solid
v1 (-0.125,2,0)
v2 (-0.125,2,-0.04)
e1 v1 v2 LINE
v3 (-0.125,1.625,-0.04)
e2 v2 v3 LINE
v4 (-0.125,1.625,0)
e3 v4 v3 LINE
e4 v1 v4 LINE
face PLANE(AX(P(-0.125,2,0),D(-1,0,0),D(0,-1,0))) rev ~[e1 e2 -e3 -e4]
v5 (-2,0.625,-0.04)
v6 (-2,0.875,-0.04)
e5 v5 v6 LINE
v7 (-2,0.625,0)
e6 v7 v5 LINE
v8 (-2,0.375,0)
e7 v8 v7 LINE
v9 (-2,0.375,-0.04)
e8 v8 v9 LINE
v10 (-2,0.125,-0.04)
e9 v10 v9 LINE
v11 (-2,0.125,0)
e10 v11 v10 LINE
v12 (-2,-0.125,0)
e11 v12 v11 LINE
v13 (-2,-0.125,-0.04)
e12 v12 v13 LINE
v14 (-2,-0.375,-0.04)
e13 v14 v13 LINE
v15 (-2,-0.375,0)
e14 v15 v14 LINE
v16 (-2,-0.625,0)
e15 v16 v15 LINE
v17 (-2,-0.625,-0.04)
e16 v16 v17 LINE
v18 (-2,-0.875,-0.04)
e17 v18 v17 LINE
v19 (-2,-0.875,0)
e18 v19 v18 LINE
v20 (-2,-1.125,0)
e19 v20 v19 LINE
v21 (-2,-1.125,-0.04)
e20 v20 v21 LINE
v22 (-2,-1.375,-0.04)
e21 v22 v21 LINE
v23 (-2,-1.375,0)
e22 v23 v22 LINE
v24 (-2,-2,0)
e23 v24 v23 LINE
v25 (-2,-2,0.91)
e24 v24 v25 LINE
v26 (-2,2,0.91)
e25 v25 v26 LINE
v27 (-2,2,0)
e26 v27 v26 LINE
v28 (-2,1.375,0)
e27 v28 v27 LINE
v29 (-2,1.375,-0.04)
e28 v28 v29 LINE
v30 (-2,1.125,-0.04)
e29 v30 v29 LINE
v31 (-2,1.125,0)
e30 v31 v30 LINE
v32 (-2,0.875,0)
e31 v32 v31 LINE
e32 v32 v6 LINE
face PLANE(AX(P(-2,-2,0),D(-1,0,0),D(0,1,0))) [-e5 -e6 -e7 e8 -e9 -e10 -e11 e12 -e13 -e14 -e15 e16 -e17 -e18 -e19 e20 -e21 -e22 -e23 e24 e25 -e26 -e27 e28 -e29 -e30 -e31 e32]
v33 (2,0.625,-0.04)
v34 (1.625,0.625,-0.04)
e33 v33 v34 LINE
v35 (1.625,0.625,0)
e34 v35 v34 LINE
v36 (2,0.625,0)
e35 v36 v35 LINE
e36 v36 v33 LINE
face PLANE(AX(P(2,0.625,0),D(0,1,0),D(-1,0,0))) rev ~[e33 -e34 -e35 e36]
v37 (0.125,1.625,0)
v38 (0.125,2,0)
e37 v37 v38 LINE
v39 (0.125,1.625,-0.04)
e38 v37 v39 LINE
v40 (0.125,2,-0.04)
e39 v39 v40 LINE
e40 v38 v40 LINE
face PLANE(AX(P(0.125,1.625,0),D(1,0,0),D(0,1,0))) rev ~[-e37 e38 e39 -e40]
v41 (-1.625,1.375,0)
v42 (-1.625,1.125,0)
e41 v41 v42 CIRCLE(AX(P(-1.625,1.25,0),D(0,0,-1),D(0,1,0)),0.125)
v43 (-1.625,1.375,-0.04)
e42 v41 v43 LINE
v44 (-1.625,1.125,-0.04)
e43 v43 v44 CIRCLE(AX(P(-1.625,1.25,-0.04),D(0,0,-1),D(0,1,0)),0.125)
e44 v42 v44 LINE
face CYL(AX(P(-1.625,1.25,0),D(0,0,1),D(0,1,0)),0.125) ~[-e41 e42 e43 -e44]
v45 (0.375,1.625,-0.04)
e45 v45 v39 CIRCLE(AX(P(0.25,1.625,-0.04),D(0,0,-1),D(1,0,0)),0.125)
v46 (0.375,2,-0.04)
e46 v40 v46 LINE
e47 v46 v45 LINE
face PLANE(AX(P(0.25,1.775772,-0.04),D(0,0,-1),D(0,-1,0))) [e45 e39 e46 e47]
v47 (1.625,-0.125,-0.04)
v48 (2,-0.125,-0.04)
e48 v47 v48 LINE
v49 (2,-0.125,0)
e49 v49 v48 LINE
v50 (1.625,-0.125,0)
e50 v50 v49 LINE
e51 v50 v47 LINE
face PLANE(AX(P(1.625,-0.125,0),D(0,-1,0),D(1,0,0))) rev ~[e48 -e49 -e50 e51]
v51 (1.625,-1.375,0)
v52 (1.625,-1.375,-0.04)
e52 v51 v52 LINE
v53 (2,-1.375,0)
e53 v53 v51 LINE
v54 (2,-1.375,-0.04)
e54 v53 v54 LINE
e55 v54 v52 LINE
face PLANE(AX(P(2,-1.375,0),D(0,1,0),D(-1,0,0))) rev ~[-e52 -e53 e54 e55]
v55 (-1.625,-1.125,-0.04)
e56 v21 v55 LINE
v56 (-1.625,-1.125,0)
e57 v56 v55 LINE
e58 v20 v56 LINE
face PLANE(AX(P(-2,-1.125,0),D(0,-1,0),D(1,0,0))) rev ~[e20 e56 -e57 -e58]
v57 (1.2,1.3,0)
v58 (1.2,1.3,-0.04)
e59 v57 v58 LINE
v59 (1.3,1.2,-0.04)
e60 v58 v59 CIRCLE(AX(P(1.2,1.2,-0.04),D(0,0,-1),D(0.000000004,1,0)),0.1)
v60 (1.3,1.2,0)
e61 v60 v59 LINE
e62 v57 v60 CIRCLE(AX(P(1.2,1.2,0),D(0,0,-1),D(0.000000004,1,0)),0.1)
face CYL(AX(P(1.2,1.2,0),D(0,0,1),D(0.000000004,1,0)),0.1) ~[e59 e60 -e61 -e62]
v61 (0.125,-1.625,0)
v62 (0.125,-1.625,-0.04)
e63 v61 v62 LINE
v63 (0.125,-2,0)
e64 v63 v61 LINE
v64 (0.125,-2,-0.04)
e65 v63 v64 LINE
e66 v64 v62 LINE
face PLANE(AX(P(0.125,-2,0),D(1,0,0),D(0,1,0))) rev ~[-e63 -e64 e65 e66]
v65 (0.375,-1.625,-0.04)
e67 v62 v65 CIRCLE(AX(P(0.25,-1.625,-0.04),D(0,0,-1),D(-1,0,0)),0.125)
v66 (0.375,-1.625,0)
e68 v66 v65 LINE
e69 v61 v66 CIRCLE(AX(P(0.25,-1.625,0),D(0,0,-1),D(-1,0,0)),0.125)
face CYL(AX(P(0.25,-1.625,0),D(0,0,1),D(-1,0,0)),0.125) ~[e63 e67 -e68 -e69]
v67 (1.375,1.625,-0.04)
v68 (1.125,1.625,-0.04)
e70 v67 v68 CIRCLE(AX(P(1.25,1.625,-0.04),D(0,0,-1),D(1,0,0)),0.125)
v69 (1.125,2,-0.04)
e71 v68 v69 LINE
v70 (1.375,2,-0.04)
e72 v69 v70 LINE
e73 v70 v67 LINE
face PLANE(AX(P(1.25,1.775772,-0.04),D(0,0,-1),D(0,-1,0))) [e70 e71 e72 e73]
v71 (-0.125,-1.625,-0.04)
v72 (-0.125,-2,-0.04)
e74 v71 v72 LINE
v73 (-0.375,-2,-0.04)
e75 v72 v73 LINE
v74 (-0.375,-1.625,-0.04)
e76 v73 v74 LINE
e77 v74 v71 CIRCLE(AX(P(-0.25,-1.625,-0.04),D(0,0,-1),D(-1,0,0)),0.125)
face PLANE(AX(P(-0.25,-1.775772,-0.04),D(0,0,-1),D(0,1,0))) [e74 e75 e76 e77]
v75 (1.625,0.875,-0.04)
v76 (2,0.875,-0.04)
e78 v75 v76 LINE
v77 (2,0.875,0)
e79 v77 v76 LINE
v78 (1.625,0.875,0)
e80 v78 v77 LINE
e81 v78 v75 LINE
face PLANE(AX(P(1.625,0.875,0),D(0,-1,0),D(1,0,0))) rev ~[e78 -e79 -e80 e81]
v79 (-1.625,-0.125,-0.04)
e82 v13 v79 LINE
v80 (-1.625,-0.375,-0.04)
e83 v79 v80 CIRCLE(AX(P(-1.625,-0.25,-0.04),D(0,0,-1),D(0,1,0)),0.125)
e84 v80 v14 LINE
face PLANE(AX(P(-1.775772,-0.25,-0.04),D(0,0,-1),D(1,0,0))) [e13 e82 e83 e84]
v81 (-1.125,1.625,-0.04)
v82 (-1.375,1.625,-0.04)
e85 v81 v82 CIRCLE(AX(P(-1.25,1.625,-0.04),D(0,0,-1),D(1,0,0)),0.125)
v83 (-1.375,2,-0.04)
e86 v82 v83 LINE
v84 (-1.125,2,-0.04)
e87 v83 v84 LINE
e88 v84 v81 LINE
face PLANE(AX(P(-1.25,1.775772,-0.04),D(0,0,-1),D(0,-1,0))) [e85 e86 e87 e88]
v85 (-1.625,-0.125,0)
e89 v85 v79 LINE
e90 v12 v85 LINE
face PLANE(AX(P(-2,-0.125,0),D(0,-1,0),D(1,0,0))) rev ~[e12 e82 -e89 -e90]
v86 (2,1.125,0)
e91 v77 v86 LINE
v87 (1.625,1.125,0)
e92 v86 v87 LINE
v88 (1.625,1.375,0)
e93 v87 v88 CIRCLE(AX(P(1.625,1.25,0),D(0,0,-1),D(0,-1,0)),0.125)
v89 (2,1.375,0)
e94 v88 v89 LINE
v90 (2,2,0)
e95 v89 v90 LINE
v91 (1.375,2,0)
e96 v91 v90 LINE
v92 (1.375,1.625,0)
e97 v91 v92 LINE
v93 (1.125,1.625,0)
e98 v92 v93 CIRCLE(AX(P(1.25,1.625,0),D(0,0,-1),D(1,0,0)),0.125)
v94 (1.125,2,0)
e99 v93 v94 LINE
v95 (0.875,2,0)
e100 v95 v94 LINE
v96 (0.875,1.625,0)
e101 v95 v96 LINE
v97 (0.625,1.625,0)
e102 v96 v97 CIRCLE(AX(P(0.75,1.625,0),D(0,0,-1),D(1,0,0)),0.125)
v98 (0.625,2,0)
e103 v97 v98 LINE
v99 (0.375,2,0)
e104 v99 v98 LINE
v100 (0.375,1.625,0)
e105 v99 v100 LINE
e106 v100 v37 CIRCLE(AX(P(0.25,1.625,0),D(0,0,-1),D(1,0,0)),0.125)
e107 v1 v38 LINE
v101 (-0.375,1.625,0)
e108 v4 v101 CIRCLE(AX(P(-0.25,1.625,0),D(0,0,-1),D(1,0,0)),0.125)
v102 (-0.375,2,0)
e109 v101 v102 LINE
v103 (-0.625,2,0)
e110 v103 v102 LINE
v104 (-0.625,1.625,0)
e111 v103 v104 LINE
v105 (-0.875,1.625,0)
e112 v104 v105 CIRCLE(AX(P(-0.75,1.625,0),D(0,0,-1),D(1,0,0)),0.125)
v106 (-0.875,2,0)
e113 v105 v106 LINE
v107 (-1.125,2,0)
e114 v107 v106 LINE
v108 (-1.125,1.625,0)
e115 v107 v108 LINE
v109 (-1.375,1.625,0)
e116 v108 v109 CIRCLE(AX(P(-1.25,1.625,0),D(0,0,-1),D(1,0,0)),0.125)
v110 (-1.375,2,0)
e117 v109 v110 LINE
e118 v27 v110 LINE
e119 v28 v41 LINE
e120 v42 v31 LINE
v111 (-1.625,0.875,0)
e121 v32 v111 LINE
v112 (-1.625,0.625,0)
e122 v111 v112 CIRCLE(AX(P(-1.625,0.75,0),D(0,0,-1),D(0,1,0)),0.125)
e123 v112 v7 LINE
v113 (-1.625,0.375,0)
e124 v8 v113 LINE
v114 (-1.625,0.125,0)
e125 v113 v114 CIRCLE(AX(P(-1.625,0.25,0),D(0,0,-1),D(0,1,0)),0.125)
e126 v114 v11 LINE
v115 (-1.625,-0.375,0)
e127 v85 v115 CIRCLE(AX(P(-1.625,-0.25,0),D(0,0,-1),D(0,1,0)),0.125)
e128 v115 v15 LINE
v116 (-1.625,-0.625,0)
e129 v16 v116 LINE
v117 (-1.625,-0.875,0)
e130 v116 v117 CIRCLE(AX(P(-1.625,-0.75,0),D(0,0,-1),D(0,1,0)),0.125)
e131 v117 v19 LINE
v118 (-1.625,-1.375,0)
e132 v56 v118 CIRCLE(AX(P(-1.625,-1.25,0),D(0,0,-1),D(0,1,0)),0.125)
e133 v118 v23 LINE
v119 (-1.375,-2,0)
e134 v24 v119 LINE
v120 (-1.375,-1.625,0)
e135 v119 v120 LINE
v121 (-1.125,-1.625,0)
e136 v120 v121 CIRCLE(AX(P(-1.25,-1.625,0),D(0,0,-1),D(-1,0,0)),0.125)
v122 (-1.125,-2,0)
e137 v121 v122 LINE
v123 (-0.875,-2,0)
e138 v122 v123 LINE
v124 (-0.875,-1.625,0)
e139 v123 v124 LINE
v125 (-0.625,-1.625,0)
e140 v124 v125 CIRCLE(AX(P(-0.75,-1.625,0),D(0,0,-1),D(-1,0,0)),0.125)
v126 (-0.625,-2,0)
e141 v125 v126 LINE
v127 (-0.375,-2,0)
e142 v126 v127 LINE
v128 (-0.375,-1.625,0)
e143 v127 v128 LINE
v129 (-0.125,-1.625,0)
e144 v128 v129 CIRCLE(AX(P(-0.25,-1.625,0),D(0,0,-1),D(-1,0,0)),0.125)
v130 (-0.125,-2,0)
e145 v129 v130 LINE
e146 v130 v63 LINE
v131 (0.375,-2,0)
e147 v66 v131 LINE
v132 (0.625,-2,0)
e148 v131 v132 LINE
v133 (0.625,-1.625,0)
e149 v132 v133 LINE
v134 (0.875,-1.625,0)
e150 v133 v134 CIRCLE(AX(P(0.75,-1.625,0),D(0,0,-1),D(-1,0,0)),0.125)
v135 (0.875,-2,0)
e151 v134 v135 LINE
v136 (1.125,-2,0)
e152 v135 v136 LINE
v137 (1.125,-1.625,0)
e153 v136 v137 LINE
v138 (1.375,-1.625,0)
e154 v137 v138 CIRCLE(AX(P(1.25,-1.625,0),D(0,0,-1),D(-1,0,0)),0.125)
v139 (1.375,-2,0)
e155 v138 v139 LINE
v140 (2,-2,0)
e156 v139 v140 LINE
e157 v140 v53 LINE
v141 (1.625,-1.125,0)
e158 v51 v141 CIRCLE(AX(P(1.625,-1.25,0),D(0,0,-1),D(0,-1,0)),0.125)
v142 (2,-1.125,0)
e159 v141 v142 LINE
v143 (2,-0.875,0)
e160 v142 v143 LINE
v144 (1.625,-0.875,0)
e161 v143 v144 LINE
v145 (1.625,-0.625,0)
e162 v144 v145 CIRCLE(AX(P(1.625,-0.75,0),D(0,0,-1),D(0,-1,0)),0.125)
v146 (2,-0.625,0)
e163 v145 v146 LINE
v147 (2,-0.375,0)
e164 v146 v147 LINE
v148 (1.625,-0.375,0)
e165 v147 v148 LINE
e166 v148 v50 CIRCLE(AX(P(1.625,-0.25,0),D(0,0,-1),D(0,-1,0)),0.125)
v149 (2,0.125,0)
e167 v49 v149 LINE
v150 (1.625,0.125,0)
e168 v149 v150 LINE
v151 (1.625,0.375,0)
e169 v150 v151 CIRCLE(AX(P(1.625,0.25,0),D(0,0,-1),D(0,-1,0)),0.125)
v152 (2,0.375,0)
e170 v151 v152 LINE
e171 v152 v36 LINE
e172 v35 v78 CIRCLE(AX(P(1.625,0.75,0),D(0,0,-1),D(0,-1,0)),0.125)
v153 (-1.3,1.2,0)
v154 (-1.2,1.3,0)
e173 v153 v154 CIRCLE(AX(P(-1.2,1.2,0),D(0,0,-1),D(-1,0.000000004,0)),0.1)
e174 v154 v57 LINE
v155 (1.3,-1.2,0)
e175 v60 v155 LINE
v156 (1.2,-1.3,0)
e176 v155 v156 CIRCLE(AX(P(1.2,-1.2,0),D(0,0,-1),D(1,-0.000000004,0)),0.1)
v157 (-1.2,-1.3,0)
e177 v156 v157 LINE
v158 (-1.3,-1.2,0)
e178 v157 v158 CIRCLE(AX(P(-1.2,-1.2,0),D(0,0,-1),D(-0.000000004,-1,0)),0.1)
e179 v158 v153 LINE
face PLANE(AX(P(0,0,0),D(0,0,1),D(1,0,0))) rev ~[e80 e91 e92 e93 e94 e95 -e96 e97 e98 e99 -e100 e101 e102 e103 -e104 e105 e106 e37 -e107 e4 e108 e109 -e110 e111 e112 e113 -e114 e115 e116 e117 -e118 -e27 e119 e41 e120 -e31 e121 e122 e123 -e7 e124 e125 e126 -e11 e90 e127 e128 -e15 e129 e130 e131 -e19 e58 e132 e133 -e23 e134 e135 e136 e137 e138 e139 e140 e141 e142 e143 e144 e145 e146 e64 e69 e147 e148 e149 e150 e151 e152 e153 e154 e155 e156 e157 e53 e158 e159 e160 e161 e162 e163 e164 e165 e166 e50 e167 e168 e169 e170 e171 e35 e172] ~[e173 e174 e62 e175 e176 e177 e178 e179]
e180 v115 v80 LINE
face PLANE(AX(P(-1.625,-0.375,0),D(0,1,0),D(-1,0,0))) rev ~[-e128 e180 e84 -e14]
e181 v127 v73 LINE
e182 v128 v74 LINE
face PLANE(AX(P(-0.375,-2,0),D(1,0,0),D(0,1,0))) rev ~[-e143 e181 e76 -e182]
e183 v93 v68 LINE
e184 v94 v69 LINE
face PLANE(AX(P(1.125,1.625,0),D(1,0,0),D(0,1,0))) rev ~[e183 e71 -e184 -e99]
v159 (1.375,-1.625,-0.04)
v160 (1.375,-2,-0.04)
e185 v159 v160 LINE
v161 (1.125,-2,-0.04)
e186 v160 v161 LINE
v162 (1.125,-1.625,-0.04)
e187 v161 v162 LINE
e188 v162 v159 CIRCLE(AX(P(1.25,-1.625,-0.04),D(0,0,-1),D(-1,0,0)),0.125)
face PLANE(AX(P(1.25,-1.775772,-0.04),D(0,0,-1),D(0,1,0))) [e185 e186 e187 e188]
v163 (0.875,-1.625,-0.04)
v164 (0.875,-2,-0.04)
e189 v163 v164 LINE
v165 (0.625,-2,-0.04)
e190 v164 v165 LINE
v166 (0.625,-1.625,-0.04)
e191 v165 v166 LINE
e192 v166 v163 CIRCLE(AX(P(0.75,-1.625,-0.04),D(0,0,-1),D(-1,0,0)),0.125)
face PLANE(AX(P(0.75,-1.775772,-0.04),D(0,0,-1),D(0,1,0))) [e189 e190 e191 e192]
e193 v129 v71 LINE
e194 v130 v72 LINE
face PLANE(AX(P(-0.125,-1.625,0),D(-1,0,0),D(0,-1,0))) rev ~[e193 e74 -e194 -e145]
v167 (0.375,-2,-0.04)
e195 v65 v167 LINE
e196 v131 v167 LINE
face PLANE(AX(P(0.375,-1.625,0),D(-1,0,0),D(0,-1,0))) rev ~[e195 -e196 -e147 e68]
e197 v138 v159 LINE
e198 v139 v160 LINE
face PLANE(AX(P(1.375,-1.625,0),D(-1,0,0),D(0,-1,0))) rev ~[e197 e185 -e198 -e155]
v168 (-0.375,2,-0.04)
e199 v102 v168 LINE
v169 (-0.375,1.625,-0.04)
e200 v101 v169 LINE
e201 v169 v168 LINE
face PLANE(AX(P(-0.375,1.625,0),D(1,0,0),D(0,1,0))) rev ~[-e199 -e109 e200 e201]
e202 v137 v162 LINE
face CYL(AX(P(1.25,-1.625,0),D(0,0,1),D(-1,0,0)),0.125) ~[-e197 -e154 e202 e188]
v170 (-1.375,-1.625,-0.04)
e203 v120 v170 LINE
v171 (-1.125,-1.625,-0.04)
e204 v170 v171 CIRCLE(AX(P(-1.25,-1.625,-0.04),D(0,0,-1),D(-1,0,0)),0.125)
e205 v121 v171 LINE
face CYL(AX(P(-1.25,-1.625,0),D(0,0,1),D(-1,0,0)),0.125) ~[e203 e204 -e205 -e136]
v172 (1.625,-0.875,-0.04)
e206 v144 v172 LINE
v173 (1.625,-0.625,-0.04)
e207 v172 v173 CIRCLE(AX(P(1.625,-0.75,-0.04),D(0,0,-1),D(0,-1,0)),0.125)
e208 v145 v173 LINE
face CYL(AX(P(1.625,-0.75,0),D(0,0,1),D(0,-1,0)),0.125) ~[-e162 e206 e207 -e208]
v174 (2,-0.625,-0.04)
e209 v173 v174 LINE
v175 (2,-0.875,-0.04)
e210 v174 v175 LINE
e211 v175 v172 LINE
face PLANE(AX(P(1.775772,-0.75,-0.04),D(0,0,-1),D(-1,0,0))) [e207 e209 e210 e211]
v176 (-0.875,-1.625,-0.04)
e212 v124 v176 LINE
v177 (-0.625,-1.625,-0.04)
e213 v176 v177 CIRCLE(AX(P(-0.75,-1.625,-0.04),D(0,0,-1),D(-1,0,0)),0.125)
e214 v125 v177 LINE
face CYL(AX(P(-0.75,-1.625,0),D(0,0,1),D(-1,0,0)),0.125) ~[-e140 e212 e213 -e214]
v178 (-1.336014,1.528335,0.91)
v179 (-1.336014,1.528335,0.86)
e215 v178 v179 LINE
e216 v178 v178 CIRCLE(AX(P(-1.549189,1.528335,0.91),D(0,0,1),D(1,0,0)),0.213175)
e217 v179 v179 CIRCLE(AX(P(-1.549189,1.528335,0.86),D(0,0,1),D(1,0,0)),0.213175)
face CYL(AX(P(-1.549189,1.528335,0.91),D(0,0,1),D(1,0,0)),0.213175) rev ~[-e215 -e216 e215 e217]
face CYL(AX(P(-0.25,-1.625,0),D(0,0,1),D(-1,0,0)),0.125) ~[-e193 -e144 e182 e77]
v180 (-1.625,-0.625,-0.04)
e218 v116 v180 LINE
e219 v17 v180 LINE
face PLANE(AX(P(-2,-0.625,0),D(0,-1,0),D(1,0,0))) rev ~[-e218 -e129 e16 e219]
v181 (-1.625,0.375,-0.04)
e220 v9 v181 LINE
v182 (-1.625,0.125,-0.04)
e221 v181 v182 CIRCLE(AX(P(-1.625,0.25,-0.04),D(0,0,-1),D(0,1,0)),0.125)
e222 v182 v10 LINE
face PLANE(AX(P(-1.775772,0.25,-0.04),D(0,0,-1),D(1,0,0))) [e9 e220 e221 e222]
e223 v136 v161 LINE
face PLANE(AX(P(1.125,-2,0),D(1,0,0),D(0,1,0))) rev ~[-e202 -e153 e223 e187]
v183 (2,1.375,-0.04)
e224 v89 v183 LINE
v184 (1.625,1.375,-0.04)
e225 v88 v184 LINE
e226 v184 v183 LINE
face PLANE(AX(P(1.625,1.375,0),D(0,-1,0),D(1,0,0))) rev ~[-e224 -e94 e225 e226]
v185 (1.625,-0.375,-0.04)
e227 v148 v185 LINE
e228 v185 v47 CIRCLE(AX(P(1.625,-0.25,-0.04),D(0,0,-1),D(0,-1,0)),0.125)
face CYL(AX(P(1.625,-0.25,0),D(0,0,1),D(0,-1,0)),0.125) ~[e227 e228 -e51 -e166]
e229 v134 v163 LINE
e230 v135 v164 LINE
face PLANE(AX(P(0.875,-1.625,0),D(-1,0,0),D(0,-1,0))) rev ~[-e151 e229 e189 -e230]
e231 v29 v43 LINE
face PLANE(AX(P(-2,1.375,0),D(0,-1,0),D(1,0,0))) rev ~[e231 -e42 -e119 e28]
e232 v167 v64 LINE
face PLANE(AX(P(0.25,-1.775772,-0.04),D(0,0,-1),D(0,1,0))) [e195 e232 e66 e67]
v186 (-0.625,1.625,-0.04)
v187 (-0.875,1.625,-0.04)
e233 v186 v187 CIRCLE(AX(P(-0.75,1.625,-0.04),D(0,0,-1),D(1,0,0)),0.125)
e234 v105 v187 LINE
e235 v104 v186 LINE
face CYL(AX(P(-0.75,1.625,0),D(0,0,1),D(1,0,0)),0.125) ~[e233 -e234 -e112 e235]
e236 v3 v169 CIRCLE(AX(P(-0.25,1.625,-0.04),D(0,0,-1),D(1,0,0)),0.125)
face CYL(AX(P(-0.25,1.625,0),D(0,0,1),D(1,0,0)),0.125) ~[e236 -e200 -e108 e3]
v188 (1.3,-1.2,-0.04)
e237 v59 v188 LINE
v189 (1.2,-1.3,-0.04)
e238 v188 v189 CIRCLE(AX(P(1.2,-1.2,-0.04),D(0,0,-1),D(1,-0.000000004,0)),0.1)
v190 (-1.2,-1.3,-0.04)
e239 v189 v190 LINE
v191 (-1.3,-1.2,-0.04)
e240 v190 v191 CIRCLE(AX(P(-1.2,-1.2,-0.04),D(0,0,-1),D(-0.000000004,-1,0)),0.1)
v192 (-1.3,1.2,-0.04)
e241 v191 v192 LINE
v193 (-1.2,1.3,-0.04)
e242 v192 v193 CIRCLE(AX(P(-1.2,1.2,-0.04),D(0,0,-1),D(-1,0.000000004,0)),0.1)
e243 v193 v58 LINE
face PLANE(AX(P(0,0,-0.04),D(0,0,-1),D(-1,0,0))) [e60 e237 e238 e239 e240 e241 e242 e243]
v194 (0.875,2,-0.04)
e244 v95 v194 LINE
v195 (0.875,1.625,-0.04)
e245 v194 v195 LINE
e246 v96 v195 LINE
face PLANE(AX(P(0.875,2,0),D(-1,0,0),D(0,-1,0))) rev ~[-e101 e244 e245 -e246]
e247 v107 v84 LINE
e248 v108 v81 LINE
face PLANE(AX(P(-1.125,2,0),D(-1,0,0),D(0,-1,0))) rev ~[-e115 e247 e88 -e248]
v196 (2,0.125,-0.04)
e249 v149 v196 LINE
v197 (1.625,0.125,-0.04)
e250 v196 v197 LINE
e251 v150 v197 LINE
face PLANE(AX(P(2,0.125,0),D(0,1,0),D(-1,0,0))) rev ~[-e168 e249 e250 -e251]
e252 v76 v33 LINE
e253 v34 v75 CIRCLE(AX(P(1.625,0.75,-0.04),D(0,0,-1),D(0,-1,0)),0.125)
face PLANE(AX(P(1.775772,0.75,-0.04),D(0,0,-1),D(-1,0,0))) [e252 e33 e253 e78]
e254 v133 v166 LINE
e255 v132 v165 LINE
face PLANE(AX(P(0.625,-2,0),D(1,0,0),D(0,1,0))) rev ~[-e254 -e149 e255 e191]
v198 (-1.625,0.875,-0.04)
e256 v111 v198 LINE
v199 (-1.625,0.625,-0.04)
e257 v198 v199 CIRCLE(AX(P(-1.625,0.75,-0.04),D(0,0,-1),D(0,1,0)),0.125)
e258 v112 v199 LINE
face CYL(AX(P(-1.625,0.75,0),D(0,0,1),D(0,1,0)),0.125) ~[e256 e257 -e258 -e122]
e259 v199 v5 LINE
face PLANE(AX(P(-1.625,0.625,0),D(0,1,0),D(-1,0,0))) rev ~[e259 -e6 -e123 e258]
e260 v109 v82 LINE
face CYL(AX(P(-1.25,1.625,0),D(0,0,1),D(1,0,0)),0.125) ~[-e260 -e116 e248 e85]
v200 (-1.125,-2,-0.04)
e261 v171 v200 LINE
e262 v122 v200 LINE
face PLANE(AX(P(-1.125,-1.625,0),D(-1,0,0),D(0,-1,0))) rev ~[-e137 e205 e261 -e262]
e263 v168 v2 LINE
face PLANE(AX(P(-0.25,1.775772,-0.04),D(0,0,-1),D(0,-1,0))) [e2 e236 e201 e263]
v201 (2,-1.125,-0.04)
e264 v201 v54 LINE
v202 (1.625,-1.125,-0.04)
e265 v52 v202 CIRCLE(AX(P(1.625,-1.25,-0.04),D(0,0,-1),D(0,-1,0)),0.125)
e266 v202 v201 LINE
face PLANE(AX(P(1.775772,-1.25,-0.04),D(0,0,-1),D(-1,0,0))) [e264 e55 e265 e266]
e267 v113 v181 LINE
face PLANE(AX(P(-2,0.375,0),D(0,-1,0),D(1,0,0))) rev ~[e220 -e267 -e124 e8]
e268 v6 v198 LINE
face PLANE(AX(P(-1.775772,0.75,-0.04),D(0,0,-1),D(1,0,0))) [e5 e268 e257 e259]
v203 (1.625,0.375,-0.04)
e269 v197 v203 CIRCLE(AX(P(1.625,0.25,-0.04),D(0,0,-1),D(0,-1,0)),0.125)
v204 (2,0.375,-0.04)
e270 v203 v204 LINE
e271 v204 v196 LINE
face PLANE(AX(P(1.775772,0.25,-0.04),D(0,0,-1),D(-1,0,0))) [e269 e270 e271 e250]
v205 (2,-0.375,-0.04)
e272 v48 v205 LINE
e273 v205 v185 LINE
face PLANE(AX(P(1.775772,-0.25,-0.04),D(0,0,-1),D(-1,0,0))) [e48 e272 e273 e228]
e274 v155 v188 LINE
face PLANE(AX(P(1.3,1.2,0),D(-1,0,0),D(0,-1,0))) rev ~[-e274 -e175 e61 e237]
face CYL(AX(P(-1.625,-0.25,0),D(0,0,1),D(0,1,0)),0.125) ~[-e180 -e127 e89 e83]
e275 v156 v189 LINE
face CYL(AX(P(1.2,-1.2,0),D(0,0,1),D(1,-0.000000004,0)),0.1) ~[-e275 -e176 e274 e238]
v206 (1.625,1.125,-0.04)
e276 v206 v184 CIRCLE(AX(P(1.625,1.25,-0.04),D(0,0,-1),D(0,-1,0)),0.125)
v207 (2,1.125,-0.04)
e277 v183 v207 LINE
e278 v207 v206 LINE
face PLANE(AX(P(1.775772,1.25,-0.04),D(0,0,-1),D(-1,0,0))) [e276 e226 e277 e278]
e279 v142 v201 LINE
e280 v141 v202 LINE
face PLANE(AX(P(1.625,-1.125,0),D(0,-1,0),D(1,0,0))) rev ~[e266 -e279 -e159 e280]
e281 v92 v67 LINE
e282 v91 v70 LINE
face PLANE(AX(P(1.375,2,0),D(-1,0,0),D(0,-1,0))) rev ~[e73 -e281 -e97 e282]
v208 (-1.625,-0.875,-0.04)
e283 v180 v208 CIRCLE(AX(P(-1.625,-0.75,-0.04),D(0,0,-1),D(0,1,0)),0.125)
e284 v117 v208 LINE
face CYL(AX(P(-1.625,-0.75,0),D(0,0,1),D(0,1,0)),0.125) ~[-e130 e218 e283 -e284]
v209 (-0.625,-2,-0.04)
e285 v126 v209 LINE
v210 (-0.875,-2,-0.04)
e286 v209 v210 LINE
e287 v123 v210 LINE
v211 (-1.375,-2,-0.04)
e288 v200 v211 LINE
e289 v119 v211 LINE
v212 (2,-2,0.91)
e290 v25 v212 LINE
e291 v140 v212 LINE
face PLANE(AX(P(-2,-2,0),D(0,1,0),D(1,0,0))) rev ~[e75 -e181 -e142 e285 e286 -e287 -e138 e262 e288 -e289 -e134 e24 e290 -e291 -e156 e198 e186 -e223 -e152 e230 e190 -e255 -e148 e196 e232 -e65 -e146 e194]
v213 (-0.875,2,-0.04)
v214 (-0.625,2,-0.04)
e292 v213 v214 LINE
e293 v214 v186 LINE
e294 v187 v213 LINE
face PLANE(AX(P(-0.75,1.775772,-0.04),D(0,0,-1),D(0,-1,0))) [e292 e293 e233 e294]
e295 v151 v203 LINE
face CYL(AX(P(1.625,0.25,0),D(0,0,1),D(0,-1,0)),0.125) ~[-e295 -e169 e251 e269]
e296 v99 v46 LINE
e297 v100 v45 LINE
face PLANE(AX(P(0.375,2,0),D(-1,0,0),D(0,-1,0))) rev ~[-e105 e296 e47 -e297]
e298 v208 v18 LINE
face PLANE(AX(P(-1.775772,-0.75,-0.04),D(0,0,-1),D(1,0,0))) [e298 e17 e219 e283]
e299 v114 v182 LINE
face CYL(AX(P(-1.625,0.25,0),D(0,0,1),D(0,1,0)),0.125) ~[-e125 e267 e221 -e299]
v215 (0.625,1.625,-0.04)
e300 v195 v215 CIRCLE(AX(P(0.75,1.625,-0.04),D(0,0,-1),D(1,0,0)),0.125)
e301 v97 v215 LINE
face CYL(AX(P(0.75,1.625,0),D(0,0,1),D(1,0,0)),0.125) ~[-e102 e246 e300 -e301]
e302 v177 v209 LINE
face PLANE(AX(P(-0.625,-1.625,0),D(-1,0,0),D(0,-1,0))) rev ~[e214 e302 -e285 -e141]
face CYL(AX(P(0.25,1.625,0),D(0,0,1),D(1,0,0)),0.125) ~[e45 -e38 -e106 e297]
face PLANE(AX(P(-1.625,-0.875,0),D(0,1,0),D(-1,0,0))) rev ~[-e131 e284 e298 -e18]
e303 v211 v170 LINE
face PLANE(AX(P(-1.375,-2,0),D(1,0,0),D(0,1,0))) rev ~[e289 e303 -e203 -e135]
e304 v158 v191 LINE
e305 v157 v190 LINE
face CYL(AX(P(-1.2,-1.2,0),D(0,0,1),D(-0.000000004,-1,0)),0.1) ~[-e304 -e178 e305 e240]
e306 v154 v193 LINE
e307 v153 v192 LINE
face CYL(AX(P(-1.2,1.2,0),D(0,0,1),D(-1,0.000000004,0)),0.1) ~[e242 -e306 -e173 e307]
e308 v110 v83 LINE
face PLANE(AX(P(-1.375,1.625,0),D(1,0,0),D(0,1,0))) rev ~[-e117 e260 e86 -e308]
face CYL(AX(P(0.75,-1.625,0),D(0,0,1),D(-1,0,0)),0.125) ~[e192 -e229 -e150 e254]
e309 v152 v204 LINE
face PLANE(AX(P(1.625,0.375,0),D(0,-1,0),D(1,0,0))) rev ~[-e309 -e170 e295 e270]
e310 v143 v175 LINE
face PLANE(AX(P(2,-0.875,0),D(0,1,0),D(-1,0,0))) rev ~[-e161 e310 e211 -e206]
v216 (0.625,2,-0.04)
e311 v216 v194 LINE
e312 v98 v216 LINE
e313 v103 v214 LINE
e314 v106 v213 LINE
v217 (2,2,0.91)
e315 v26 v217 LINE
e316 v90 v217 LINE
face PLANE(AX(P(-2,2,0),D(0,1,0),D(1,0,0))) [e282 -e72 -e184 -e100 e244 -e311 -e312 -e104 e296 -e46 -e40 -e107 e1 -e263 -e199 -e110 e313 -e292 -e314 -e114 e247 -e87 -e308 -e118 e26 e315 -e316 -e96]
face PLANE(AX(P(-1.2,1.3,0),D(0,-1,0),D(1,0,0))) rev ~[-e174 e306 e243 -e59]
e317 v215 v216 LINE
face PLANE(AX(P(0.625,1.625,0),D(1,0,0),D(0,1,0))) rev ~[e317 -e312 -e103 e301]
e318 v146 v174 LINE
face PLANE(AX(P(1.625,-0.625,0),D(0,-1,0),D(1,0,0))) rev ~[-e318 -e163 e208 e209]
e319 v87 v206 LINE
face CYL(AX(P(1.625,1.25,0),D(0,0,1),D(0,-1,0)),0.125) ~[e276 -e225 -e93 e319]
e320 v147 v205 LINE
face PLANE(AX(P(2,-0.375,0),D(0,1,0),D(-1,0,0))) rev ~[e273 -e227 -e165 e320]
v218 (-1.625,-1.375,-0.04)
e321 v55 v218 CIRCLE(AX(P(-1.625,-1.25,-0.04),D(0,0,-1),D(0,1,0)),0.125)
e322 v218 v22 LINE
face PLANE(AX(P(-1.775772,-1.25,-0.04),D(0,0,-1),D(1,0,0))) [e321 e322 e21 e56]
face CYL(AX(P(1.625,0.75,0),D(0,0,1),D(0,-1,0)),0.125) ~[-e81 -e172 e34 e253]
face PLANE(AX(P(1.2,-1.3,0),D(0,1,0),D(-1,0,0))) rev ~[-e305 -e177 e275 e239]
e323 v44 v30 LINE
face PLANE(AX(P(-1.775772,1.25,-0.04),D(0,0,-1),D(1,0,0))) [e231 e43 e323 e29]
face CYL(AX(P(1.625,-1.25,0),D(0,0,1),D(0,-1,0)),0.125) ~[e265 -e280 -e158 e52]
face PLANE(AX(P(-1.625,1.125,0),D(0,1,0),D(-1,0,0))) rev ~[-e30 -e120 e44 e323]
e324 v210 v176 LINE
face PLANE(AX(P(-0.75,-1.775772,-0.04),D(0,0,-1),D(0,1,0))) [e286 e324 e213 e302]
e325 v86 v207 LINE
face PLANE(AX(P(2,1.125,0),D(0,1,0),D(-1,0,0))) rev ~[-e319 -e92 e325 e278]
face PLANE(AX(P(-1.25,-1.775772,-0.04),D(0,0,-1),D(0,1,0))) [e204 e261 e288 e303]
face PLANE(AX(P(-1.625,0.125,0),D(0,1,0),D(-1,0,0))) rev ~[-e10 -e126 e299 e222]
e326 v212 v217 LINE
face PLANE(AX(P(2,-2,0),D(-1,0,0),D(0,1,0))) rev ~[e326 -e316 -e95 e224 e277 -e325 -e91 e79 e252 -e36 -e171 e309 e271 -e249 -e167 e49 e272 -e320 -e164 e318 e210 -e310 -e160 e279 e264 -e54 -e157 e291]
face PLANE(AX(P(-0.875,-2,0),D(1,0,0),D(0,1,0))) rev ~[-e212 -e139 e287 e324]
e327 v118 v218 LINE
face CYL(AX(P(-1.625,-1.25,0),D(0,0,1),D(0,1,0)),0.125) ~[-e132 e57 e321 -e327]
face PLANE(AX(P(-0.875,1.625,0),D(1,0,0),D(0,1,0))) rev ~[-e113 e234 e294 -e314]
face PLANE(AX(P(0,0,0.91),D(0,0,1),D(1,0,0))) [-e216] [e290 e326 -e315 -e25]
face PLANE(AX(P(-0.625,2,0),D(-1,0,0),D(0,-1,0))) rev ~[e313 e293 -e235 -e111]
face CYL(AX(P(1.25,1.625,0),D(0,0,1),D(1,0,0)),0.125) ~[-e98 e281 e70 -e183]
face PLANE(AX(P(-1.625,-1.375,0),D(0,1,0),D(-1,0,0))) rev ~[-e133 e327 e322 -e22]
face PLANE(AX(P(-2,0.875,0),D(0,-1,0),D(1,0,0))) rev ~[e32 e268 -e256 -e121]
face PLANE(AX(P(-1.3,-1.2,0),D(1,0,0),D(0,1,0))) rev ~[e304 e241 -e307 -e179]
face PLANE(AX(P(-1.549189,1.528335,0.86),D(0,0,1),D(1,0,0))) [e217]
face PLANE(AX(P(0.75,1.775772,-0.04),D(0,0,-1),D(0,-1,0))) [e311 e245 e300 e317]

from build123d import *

# Parameters (mm, degrees)
SKETCH1_W                 = 4
SKETCH1_H                 = 4
BOSS_EXTRUDE1_DEPTH       = 0.91
BOSS_EXTRUDE2_DEPTH       = 0.04
BOSS_EXTRUDE3_DEPTH       = 0.04
LPATTERN1_COUNT           = 6
LPATTERN1_PITCH           = 0.5
CIRPATTERN1_COUNT         = 4
CIRPATTERN1_COPY_1_DEPTH  = 0.04
CIRPATTERN1_COPY_2_DEPTH  = 0.04
CIRPATTERN1_COPY_3_DEPTH  = 0.04
CIRPATTERN1_COPY_4_DEPTH  = 0.04
CIRPATTERN1_COPY_5_DEPTH  = 0.04
CIRPATTERN1_COPY_6_DEPTH  = 0.04
CIRPATTERN1_COPY_7_DEPTH  = 0.04
CIRPATTERN1_COPY_8_DEPTH  = 0.04
CIRPATTERN1_COPY_9_DEPTH  = 0.04
CIRPATTERN1_COPY_10_DEPTH = 0.04
CIRPATTERN1_COPY_11_DEPTH = 0.04
CIRPATTERN1_COPY_12_DEPTH = 0.04
CIRPATTERN1_COPY_13_DEPTH = 0.04
CIRPATTERN1_COPY_14_DEPTH = 0.04
CIRPATTERN1_COPY_15_DEPTH = 0.04
SKETCH4_R                 = 0.213174932
CUT_EXTRUDE1_DEPTH        = 0.05


with BuildPart() as part:
    # Sketch1 → Boss-Extrude1 (new body)
    with BuildSketch(Plane.XY):
        Rectangle(SKETCH1_W, SKETCH1_H)
    extrude(amount=BOSS_EXTRUDE1_DEPTH)

    # Sketch2 → Boss-Extrude2 (add)
    with BuildSketch(Plane(origin=(0, 0, 0), x_dir=(-1, 0, 0), z_dir=(0, 0, -1))):
        with BuildLine():
            Line((-1.2, -1.3), (1.2, -1.3))
            ThreePointArc((1.2, -1.3), (1.270710678, -1.270710678), (1.3, -1.2))
            Line((1.3, -1.2), (1.3, 1.2))
            ThreePointArc((1.3, 1.2), (1.270710678, 1.270710678), (1.2, 1.3))
            Line((1.2, 1.3), (-1.2, 1.3))
            ThreePointArc((-1.2, 1.3), (-1.270710678, 1.270710678), (-1.3, 1.2))
            Line((-1.3, 1.2), (-1.3, -1.2))
            ThreePointArc((-1.3, -1.2), (-1.270710678, -1.270710678), (-1.2, -1.3))
        make_face()
    extrude(amount=BOSS_EXTRUDE2_DEPTH)

    # Sketch3 → Boss-Extrude3 (add)
    with BuildSketch(Plane(origin=(0, 0, 0), x_dir=(-1, 0, 0), z_dir=(0, 0, -1))):
        with BuildLine():
            Line((-2, 1.125), (-1.625, 1.125))
            ThreePointArc((-1.625, 1.125), (-1.5, 1.25), (-1.625, 1.375))
            Line((-1.625, 1.375), (-2, 1.375))
            Line((-2, 1.375), (-2, 1.125))
        make_face()
    boss_extrude3 = extrude(amount=BOSS_EXTRUDE3_DEPTH)

    # LPattern1: Boss-Extrude3 ×6
    with Locations(*[(0, -i * LPATTERN1_PITCH, 0) for i in range(1, LPATTERN1_COUNT)]):
        add(boss_extrude3)

    # CirPattern1: Boss-Extrude3 ×4 about axis
    cirpattern1_axis = Axis((0, 0, 0), (0, 0, 1))
    for i in range(1, CIRPATTERN1_COUNT):
        add(boss_extrude3.rotate(cirpattern1_axis, i * 360 / CIRPATTERN1_COUNT))

    # CirPattern1 copy 1 sketch → CirPattern1 copy 1 (add)
    with BuildSketch(Plane(origin=(0.5, 0, 0), x_dir=(0, -1, 0), z_dir=(0, 0, -1))):
        with BuildLine():
            Line((-2, 1.125), (-1.625, 1.125))
            ThreePointArc((-1.625, 1.125), (-1.5, 1.25), (-1.625, 1.375))
            Line((-1.625, 1.375), (-2, 1.375))
            Line((-2, 1.375), (-2, 1.125))
        make_face()
    extrude(amount=CIRPATTERN1_COPY_1_DEPTH)

    # CirPattern1 copy 2 sketch → CirPattern1 copy 2 (add)
    with BuildSketch(Plane(origin=(0, 0.5, 0), x_dir=(1, 0, 0), z_dir=(0, 0, -1))):
        with BuildLine():
            Line((-2, 1.125), (-1.625, 1.125))
            ThreePointArc((-1.625, 1.125), (-1.5, 1.25), (-1.625, 1.375))
            Line((-1.625, 1.375), (-2, 1.375))
            Line((-2, 1.375), (-2, 1.125))
        make_face()
    extrude(amount=CIRPATTERN1_COPY_2_DEPTH)

    # CirPattern1 copy 3 sketch → CirPattern1 copy 3 (add)
    with BuildSketch(Plane(origin=(-0.5, 0, 0), x_dir=(0, 1, 0), z_dir=(0, 0, -1))):
        with BuildLine():
            Line((-2, 1.125), (-1.625, 1.125))
            ThreePointArc((-1.625, 1.125), (-1.5, 1.25), (-1.625, 1.375))
            Line((-1.625, 1.375), (-2, 1.375))
            Line((-2, 1.375), (-2, 1.125))
        make_face()
    extrude(amount=CIRPATTERN1_COPY_3_DEPTH)

    # CirPattern1 copy 4 sketch → CirPattern1 copy 4 (add)
    with BuildSketch(Plane(origin=(1, 0, 0), x_dir=(0, -1, 0), z_dir=(0, 0, -1))):
        with BuildLine():
            Line((-2, 1.125), (-1.625, 1.125))
            ThreePointArc((-1.625, 1.125), (-1.5, 1.25), (-1.625, 1.375))
            Line((-1.625, 1.375), (-2, 1.375))
            Line((-2, 1.375), (-2, 1.125))
        make_face()
    extrude(amount=CIRPATTERN1_COPY_4_DEPTH)

    # CirPattern1 copy 5 sketch → CirPattern1 copy 5 (add)
    with BuildSketch(Plane(origin=(0, 1, 0), x_dir=(1, 0, 0), z_dir=(0, 0, -1))):
        with BuildLine():
            Line((-2, 1.125), (-1.625, 1.125))
            ThreePointArc((-1.625, 1.125), (-1.5, 1.25), (-1.625, 1.375))
            Line((-1.625, 1.375), (-2, 1.375))
            Line((-2, 1.375), (-2, 1.125))
        make_face()
    extrude(amount=CIRPATTERN1_COPY_5_DEPTH)

    # CirPattern1 copy 6 sketch → CirPattern1 copy 6 (add)
    with BuildSketch(Plane(origin=(-1, 0, 0), x_dir=(0, 1, 0), z_dir=(0, 0, -1))):
        with BuildLine():
            Line((-2, 1.125), (-1.625, 1.125))
            ThreePointArc((-1.625, 1.125), (-1.5, 1.25), (-1.625, 1.375))
            Line((-1.625, 1.375), (-2, 1.375))
            Line((-2, 1.375), (-2, 1.125))
        make_face()
    extrude(amount=CIRPATTERN1_COPY_6_DEPTH)

    # CirPattern1 copy 7 sketch → CirPattern1 copy 7 (add)
    with BuildSketch(Plane(origin=(1.5, 0, 0), x_dir=(0, -1, 0), z_dir=(0, 0, -1))):
        with BuildLine():
            Line((-2, 1.125), (-1.625, 1.125))
            ThreePointArc((-1.625, 1.125), (-1.5, 1.25), (-1.625, 1.375))
            Line((-1.625, 1.375), (-2, 1.375))
            Line((-2, 1.375), (-2, 1.125))
        make_face()
    extrude(amount=CIRPATTERN1_COPY_7_DEPTH)

    # CirPattern1 copy 8 sketch → CirPattern1 copy 8 (add)
    with BuildSketch(Plane(origin=(0, 1.5, 0), x_dir=(1, 0, 0), z_dir=(0, 0, -1))):
        with BuildLine():
            Line((-2, 1.125), (-1.625, 1.125))
            ThreePointArc((-1.625, 1.125), (-1.5, 1.25), (-1.625, 1.375))
            Line((-1.625, 1.375), (-2, 1.375))
            Line((-2, 1.375), (-2, 1.125))
        make_face()
    extrude(amount=CIRPATTERN1_COPY_8_DEPTH)

    # CirPattern1 copy 9 sketch → CirPattern1 copy 9 (add)
    with BuildSketch(Plane(origin=(-1.5, 0, 0), x_dir=(0, 1, 0), z_dir=(0, 0, -1))):
        with BuildLine():
            Line((-2, 1.125), (-1.625, 1.125))
            ThreePointArc((-1.625, 1.125), (-1.5, 1.25), (-1.625, 1.375))
            Line((-1.625, 1.375), (-2, 1.375))
            Line((-2, 1.375), (-2, 1.125))
        make_face()
    extrude(amount=CIRPATTERN1_COPY_9_DEPTH)

    # CirPattern1 copy 10 sketch → CirPattern1 copy 10 (add)
    with BuildSketch(Plane(origin=(2, 0, 0), x_dir=(0, -1, 0), z_dir=(0, 0, -1))):
        with BuildLine():
            Line((-2, 1.125), (-1.625, 1.125))
            ThreePointArc((-1.625, 1.125), (-1.5, 1.25), (-1.625, 1.375))
            Line((-1.625, 1.375), (-2, 1.375))
            Line((-2, 1.375), (-2, 1.125))
        make_face()
    extrude(amount=CIRPATTERN1_COPY_10_DEPTH)

    # CirPattern1 copy 11 sketch → CirPattern1 copy 11 (add)
    with BuildSketch(Plane(origin=(0, 2, 0), x_dir=(1, 0, 0), z_dir=(0, 0, -1))):
        with BuildLine():
            Line((-2, 1.125), (-1.625, 1.125))
            ThreePointArc((-1.625, 1.125), (-1.5, 1.25), (-1.625, 1.375))
            Line((-1.625, 1.375), (-2, 1.375))
            Line((-2, 1.375), (-2, 1.125))
        make_face()
    extrude(amount=CIRPATTERN1_COPY_11_DEPTH)

    # CirPattern1 copy 12 sketch → CirPattern1 copy 12 (add)
    with BuildSketch(Plane(origin=(-2, 0, 0), x_dir=(0, 1, 0), z_dir=(0, 0, -1))):
        with BuildLine():
            Line((-2, 1.125), (-1.625, 1.125))
            ThreePointArc((-1.625, 1.125), (-1.5, 1.25), (-1.625, 1.375))
            Line((-1.625, 1.375), (-2, 1.375))
            Line((-2, 1.375), (-2, 1.125))
        make_face()
    extrude(amount=CIRPATTERN1_COPY_12_DEPTH)

    # CirPattern1 copy 13 sketch → CirPattern1 copy 13 (add)
    with BuildSketch(Plane(origin=(2.5, 0, 0), x_dir=(0, -1, 0), z_dir=(0, 0, -1))):
        with BuildLine():
            Line((-2, 1.125), (-1.625, 1.125))
            ThreePointArc((-1.625, 1.125), (-1.5, 1.25), (-1.625, 1.375))
            Line((-1.625, 1.375), (-2, 1.375))
            Line((-2, 1.375), (-2, 1.125))
        make_face()
    extrude(amount=CIRPATTERN1_COPY_13_DEPTH)

    # CirPattern1 copy 14 sketch → CirPattern1 copy 14 (add)
    with BuildSketch(Plane(origin=(0, 2.5, 0), x_dir=(1, 0, 0), z_dir=(0, 0, -1))):
        with BuildLine():
            Line((-2, 1.125), (-1.625, 1.125))
            ThreePointArc((-1.625, 1.125), (-1.5, 1.25), (-1.625, 1.375))
            Line((-1.625, 1.375), (-2, 1.375))
            Line((-2, 1.375), (-2, 1.125))
        make_face()
    extrude(amount=CIRPATTERN1_COPY_14_DEPTH)

    # CirPattern1 copy 15 sketch → CirPattern1 copy 15 (add)
    with BuildSketch(Plane(origin=(-2.5, 0, 0), x_dir=(0, 1, 0), z_dir=(0, 0, -1))):
        with BuildLine():
            Line((-2, 1.125), (-1.625, 1.125))
            ThreePointArc((-1.625, 1.125), (-1.5, 1.25), (-1.625, 1.375))
            Line((-1.625, 1.375), (-2, 1.375))
            Line((-2, 1.375), (-2, 1.125))
        make_face()
    extrude(amount=CIRPATTERN1_COPY_15_DEPTH)

    # Sketch4 → Cut-Extrude1 (cut)
    with BuildSketch(Plane.XY.offset(0.91)):
        with Locations((-1.549189325, 1.528334853)):
            Circle(SKETCH4_R)
    extrude(amount=-CUT_EXTRUDE1_DEPTH, mode=Mode.SUBTRACT)


solid = part.part
